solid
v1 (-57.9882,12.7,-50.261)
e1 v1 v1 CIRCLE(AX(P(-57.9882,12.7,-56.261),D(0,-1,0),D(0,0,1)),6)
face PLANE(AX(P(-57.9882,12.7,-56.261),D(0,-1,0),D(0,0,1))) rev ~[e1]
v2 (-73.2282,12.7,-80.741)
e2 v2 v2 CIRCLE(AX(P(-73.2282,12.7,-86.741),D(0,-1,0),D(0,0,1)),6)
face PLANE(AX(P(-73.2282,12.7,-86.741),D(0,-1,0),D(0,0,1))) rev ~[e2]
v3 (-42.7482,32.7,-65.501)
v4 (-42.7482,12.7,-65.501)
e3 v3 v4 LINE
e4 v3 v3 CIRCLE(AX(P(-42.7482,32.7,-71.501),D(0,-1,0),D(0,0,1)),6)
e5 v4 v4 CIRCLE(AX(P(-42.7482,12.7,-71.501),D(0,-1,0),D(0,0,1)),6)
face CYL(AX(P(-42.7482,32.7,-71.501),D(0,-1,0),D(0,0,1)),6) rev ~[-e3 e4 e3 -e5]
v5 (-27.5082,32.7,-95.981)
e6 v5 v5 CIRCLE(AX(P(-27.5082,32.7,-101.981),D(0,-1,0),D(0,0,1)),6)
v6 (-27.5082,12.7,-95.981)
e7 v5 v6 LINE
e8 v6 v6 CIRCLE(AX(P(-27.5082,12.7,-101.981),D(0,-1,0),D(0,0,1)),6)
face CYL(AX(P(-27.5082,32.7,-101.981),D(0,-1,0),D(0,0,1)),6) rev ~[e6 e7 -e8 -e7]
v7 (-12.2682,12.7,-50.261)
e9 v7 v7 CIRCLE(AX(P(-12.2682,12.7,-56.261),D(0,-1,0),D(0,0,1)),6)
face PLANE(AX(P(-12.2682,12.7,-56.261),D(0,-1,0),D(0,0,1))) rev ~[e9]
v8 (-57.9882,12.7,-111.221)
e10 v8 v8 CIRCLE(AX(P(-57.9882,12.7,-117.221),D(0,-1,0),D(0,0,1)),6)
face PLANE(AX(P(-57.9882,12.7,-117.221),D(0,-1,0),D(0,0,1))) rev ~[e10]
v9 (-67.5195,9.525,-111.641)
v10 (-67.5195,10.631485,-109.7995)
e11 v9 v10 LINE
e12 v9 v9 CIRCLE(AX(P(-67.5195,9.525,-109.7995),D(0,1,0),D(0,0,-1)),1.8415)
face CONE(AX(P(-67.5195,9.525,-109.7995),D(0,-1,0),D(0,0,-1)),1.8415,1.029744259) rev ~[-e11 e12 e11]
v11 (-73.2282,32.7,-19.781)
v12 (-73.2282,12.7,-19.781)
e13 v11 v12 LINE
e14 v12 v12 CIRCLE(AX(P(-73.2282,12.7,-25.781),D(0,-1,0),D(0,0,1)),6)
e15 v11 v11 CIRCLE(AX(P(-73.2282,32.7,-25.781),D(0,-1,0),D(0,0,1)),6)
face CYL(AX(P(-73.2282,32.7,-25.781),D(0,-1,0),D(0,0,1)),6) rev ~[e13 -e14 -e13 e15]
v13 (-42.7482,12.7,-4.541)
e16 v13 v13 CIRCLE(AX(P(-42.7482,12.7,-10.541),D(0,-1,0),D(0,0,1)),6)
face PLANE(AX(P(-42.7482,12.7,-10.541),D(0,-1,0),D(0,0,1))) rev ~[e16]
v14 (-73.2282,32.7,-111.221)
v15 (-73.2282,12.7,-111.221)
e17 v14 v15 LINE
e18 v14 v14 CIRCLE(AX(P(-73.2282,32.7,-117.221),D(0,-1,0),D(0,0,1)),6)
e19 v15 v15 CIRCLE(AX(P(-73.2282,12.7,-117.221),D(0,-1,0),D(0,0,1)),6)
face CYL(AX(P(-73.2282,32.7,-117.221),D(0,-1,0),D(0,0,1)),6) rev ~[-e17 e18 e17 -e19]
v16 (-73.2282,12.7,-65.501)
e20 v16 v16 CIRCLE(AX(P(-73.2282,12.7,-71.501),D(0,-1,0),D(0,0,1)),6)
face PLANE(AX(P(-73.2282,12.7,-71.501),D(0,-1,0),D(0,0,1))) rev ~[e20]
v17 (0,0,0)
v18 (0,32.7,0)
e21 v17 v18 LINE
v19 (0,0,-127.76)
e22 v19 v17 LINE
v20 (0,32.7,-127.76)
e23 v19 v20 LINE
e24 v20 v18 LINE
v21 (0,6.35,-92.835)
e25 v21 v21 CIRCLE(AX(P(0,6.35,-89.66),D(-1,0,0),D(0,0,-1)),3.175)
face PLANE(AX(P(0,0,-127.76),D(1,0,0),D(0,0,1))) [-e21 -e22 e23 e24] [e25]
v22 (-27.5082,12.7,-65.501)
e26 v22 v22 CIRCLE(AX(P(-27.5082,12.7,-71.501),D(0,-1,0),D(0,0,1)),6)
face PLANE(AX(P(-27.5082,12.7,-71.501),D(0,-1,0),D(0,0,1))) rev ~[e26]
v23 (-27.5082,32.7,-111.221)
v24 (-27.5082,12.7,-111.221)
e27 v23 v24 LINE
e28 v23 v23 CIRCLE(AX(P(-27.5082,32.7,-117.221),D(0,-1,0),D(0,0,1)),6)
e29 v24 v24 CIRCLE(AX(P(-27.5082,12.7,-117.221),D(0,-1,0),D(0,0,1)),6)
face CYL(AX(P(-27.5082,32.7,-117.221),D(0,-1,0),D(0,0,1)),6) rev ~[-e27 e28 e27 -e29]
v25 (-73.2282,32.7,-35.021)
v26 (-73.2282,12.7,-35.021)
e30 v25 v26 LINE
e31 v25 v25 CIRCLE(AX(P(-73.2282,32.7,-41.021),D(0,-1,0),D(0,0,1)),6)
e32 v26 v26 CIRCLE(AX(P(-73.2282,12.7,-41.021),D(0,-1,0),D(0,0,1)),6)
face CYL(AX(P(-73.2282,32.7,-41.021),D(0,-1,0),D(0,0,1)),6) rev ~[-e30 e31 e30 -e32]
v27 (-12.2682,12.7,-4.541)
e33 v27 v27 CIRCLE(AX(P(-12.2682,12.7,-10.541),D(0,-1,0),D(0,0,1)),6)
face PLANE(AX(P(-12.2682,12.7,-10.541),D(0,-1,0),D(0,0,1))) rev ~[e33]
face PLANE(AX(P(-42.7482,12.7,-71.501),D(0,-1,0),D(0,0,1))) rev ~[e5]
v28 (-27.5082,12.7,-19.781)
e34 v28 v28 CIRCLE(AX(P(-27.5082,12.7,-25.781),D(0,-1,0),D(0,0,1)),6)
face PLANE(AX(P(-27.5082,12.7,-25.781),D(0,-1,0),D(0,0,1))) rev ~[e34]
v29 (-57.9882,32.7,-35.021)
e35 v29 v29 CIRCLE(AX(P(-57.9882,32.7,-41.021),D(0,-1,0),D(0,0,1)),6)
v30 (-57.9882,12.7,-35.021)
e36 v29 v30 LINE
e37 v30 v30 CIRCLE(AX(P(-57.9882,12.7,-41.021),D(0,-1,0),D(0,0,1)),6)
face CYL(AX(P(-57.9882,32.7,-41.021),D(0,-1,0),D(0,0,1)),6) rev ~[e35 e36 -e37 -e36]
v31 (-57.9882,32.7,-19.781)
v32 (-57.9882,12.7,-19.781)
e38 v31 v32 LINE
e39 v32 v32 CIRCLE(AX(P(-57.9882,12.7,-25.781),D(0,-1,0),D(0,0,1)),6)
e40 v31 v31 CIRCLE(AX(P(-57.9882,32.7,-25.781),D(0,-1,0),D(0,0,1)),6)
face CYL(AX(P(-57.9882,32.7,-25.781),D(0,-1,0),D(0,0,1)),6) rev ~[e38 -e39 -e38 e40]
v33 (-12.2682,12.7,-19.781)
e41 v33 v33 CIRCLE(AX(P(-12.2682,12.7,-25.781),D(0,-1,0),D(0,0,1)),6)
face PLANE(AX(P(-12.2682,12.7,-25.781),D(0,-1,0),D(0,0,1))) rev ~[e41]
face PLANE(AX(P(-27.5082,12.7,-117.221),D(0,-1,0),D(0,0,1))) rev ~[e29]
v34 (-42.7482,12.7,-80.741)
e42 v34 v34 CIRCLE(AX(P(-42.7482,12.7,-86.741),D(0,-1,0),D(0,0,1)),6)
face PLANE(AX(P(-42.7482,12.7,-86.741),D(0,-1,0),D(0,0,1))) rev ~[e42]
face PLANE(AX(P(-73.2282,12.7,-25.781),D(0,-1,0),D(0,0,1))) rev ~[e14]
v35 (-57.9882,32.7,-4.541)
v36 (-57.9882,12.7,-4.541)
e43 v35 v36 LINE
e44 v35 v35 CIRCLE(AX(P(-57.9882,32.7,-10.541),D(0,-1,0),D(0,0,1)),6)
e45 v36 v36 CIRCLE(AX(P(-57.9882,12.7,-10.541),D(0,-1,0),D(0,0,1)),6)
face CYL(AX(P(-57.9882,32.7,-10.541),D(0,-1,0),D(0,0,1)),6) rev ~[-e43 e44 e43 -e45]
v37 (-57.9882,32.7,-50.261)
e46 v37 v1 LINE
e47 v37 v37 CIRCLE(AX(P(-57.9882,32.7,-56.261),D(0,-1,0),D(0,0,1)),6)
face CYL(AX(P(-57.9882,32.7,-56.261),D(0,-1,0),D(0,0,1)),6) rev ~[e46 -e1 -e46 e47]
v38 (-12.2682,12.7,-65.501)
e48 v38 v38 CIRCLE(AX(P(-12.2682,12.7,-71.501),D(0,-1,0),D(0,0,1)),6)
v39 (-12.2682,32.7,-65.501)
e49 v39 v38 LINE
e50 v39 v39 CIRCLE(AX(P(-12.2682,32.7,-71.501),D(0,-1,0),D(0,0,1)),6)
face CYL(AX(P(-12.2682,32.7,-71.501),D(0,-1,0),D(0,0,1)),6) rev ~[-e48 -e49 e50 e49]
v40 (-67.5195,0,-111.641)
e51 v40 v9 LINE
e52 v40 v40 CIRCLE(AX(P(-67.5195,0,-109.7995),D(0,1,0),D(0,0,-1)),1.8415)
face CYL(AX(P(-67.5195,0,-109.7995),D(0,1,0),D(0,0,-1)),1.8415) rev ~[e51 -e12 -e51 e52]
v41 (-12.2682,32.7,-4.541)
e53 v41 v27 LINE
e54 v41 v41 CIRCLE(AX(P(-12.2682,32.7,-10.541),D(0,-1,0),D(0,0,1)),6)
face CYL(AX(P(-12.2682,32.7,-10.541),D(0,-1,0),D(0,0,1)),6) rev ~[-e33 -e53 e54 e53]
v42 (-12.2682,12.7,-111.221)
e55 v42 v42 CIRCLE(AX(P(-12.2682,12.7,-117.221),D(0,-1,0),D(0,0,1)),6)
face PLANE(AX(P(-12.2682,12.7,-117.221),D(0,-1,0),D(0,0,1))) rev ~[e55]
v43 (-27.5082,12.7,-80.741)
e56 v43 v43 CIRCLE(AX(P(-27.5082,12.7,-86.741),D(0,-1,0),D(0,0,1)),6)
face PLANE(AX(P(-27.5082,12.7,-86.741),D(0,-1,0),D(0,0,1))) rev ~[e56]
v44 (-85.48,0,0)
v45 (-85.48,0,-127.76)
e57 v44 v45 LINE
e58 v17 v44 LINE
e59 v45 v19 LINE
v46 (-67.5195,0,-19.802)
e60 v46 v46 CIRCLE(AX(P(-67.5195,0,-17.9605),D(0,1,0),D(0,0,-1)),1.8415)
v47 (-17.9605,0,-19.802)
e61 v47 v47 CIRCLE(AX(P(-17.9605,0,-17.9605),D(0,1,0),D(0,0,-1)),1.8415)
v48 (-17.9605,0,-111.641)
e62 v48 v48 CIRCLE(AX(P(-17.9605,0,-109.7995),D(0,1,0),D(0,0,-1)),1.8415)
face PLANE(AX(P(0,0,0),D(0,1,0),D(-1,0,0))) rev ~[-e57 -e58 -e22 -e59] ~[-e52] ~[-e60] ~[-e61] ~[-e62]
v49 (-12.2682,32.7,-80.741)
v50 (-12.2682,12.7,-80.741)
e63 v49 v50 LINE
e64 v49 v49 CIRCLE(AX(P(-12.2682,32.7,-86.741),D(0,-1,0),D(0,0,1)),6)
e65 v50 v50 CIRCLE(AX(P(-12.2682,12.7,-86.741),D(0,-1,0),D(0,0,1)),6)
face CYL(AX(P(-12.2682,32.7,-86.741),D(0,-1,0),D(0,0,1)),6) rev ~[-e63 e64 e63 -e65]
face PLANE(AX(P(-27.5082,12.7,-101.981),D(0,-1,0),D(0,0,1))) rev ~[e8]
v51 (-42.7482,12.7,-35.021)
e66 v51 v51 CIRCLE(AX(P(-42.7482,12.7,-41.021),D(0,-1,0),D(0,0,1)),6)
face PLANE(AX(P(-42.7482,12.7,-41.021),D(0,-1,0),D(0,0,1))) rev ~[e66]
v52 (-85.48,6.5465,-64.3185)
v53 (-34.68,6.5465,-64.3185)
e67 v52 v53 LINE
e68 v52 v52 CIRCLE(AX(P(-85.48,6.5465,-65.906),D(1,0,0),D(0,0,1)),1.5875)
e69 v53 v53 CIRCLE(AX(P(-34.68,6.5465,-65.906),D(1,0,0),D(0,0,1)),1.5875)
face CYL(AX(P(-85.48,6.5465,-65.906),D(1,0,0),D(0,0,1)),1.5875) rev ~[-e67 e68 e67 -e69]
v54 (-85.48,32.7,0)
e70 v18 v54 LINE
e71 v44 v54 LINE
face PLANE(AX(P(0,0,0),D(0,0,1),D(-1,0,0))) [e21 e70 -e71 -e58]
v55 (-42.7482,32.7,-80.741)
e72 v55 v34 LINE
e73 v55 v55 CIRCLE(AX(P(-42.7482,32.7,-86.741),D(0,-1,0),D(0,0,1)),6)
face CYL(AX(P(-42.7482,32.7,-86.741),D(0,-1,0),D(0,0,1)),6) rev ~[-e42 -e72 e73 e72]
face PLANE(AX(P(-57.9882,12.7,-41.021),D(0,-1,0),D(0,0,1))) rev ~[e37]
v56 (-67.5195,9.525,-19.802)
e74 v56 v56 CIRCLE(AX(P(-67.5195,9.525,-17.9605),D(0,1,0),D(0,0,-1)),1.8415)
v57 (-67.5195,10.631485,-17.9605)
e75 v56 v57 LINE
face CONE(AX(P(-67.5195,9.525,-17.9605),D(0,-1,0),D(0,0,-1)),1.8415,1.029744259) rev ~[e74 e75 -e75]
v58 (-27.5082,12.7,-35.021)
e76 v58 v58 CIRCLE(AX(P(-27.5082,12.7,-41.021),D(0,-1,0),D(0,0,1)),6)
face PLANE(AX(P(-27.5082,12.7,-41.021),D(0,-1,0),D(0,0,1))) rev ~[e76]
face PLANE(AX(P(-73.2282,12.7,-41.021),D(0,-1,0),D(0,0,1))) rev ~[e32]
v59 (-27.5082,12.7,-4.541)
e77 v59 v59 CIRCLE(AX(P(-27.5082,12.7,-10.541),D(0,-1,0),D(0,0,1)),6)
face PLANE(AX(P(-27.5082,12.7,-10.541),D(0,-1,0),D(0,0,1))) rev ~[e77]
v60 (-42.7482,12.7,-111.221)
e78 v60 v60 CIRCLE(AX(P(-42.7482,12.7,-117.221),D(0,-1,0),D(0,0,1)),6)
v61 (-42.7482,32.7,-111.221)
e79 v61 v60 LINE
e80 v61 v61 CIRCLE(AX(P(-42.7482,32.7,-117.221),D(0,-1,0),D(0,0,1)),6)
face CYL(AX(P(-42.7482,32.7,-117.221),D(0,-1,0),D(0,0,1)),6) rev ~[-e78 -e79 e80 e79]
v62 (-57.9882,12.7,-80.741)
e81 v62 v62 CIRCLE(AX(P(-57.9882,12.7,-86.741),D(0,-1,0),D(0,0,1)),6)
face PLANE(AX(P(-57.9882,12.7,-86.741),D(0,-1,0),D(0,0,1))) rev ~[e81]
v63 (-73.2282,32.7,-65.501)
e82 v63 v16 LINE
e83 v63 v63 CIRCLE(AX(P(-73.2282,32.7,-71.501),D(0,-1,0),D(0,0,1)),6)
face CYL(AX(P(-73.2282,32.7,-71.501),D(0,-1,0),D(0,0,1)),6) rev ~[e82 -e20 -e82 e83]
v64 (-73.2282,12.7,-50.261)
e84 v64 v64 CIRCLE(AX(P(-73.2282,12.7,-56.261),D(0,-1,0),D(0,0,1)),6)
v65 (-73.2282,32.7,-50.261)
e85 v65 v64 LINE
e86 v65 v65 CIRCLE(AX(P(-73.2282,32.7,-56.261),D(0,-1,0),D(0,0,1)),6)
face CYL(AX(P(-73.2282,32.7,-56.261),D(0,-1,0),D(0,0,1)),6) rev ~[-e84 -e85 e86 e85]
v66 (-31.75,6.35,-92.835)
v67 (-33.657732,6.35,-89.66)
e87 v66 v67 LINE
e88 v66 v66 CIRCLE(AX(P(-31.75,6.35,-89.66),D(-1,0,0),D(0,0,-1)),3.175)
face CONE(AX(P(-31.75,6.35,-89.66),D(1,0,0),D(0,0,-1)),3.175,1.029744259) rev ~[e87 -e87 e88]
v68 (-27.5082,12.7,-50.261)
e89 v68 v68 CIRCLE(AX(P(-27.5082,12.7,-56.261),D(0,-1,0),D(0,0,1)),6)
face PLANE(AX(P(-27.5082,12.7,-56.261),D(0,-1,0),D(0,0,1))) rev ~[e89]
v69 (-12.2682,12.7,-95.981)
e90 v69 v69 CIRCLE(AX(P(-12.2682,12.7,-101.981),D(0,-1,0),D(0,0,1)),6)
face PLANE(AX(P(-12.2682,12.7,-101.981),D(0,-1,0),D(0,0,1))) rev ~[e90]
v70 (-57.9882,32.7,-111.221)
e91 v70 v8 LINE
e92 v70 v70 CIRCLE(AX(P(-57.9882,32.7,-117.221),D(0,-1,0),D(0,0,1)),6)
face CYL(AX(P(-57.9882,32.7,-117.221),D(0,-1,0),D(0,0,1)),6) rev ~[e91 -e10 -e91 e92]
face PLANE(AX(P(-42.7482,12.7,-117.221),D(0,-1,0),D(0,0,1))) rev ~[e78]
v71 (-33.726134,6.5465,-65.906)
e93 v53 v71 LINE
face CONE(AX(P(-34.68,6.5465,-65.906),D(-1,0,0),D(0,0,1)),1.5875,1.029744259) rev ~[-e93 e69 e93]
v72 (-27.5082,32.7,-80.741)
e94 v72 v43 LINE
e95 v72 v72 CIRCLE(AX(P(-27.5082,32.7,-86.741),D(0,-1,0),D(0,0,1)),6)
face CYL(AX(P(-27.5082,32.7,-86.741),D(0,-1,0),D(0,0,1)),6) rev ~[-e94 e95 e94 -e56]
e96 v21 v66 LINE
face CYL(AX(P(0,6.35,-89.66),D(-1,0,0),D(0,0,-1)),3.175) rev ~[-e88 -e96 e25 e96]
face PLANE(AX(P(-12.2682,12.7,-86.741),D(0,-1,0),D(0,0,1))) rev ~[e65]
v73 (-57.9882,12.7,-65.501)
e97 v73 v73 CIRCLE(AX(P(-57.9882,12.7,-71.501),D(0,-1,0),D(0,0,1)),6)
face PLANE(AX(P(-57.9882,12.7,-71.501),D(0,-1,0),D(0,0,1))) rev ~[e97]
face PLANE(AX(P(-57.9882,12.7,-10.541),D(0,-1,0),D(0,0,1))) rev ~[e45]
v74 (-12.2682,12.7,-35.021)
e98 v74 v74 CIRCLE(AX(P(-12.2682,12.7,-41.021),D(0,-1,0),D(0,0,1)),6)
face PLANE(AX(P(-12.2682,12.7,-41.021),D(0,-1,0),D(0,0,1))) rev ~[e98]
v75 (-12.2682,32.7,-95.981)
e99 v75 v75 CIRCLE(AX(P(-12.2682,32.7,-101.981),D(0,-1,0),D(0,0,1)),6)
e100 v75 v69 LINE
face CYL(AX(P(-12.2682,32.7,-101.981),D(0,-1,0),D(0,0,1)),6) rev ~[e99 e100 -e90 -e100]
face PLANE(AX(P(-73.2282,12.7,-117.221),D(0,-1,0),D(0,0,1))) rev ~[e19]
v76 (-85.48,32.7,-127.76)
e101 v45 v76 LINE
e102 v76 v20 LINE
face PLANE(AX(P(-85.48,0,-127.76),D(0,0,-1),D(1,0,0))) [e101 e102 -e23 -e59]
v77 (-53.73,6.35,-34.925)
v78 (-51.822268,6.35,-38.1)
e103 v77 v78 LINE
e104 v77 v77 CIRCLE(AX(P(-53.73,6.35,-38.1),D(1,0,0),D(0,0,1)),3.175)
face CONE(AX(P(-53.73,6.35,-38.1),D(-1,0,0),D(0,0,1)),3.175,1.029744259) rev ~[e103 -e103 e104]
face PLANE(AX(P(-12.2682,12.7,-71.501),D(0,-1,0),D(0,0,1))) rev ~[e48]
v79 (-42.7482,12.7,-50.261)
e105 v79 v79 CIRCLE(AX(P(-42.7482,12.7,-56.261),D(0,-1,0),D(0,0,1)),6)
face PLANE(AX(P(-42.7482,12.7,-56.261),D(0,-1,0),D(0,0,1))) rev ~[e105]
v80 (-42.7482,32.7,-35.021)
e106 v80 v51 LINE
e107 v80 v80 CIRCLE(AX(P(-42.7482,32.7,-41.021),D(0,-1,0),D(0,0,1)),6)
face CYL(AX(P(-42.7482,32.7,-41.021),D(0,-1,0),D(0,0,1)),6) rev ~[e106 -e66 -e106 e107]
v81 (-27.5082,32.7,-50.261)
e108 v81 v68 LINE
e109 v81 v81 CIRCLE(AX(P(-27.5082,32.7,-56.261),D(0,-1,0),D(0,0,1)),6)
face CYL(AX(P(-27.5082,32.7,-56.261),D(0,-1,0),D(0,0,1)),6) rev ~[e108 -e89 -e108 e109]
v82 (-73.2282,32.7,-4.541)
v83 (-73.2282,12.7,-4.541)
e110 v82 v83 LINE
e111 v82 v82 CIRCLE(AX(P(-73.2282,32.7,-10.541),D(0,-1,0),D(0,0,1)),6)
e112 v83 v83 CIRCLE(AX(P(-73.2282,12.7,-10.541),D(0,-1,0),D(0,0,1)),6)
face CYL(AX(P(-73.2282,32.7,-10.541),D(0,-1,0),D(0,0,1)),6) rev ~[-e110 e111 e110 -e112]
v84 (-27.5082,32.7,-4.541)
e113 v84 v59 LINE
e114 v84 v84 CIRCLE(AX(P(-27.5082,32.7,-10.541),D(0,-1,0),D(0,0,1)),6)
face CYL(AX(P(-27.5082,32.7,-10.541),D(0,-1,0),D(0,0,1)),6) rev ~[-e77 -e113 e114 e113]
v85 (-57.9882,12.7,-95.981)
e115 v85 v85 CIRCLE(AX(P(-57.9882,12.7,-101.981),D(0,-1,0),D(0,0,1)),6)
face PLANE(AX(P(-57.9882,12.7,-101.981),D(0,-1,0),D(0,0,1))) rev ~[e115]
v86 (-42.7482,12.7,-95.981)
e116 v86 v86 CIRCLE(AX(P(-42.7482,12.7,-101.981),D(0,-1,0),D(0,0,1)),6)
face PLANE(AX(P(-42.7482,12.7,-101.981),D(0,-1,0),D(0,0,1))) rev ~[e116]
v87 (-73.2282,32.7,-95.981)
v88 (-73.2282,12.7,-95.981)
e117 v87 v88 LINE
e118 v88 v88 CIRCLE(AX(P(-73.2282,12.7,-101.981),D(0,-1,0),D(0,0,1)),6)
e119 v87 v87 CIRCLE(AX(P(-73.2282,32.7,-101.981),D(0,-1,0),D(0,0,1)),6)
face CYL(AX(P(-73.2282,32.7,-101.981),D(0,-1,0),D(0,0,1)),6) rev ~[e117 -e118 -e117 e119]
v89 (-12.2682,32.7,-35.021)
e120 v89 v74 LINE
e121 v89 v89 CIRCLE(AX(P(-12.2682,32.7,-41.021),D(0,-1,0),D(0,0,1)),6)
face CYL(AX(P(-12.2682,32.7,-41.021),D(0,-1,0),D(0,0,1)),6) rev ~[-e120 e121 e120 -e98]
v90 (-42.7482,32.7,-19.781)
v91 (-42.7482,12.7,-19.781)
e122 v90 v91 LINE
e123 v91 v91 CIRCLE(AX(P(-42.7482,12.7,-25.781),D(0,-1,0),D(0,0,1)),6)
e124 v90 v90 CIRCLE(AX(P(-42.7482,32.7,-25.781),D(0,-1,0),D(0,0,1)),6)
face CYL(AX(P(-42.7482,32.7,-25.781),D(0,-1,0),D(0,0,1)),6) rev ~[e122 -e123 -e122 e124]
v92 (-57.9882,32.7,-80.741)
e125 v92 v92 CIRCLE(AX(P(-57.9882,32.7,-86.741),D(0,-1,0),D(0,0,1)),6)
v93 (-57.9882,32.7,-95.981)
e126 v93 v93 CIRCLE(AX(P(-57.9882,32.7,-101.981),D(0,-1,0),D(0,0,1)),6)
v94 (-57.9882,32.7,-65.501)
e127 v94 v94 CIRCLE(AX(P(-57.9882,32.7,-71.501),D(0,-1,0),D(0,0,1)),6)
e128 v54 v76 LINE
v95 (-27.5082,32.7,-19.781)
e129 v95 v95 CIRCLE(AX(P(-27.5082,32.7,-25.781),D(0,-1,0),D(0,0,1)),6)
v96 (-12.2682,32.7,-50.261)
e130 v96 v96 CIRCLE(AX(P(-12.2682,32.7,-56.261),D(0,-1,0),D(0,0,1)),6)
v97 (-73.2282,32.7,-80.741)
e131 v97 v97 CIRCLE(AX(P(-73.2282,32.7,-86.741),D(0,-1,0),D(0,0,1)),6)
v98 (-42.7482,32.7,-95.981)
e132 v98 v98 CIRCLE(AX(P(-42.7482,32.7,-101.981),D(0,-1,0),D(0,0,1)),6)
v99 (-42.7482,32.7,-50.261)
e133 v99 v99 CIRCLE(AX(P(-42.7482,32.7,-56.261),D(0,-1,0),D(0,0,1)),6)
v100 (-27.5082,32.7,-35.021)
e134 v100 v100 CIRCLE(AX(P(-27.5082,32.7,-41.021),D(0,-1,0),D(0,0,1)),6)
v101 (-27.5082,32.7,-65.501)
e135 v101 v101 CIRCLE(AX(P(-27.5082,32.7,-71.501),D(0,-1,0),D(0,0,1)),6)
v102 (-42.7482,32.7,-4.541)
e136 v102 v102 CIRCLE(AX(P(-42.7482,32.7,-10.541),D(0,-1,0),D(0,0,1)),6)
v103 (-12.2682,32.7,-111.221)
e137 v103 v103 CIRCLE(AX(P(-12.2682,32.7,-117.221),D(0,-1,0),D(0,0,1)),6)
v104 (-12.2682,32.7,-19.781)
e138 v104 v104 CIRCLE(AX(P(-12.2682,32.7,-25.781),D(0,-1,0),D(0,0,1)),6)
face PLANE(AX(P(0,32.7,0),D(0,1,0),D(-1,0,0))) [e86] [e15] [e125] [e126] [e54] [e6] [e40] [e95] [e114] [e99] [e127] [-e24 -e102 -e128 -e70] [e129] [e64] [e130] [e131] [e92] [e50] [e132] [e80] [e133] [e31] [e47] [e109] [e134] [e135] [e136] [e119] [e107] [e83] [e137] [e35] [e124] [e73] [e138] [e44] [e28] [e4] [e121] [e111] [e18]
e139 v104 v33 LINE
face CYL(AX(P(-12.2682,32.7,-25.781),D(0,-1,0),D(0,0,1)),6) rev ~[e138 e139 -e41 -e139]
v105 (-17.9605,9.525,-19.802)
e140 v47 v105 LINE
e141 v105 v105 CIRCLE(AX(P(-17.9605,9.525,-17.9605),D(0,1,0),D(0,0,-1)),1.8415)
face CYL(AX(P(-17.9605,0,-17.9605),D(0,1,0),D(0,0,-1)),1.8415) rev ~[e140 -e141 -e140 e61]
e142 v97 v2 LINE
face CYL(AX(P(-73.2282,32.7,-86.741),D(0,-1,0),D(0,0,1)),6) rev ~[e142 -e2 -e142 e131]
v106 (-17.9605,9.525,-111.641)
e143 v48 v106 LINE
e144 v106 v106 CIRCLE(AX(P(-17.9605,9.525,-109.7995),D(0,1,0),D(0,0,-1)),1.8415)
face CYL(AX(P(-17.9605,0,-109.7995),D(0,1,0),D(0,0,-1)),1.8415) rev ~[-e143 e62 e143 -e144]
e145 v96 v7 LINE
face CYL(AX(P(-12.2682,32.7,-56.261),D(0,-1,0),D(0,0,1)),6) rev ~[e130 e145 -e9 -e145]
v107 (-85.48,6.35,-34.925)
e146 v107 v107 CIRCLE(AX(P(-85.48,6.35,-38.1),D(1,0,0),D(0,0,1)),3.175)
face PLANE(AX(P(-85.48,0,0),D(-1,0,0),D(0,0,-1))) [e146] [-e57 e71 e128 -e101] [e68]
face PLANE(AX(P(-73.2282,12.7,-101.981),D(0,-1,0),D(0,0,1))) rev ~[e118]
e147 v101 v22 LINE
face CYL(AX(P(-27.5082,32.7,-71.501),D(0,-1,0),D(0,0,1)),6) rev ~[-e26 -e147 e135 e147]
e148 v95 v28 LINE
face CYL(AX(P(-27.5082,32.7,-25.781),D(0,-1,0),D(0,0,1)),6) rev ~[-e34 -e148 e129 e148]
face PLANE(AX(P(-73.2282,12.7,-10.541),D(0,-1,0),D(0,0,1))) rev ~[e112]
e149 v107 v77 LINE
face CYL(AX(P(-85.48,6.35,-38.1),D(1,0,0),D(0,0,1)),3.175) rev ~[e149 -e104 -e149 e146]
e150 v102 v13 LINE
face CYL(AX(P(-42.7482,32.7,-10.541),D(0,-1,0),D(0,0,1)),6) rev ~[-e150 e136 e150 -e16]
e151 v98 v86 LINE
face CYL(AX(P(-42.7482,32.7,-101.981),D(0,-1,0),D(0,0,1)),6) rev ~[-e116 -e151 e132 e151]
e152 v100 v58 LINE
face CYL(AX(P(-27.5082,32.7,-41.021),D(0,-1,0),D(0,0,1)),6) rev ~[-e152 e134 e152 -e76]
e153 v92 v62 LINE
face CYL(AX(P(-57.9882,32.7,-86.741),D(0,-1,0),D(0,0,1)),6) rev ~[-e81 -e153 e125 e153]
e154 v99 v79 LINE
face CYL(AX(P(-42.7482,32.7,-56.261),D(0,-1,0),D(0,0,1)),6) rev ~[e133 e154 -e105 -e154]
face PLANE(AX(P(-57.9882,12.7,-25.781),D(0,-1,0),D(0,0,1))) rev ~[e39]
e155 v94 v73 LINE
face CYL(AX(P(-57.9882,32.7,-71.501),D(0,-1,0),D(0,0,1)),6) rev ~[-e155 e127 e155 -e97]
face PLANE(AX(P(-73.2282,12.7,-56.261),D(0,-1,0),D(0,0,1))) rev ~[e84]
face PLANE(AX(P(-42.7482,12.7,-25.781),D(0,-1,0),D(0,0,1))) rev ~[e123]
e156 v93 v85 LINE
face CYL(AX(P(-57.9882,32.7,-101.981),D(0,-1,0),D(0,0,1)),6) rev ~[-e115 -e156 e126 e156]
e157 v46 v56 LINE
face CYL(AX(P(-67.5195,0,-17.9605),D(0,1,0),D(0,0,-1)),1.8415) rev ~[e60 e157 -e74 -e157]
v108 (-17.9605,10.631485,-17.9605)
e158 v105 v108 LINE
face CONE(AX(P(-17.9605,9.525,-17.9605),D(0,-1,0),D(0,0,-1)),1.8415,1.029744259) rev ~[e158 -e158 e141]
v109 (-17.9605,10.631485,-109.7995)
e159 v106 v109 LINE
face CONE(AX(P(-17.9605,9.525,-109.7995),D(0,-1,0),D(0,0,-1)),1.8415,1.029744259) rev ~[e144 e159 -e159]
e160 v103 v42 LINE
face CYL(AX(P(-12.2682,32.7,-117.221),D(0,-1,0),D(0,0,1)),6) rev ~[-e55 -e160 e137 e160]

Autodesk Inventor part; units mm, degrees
ref_plane "YZ Plane" through (0, 0, 0) normal (1, 0, 0) x (0, 1, 0)
ref_plane "XZ Plane" through (0, 0, 0) normal (0, 1, 0) x (-1, 0, 0)
ref_plane "XY Plane" through (0, 0, 0) normal (0, 0, 1) x (1, 0, 0)
sketch "Sketch1" plane through (0, 0, 0) normal (0, 1, 0) x (-1, 0, 0)
  line L0 (0, 0) -> (85.48, 0)
  line L1 (85.48, 0) -> (85.48, -127.76)
  line L2 (85.48, -127.76) -> (0, -127.76)
  line L3 (0, -127.76) -> (0, 0)
  line L4 (85.48, 0) -> (67.5195, -17.9605)
  line L5 (85.48, 0) -> (110.88, 0) construction
  line L6 (0, 0) -> (17.9605, -17.9605)
  line L7 (85.48, -127.76) -> (67.5195, -109.7995)
  line L8 (85.48, -127.76) -> (110.88, -127.76) construction
  line L9 (0, -127.76) -> (17.9605, -109.7995)
  line L10 (0, -127.76) -> (25.4, -127.76) construction
  dimension "d0" = 85.48
  dimension "d1" = 127.76
  dimension "d2" = 25.4
  dimension "d3" = 135
  dimension "d4" = 25.4
  dimension "d5" = 25.4
  dimension "d6" = 135
  dimension "d7" = 25.4
  dimension "d8" = 45
extrude "Extrusion1" add sketch "Sketch1" along normal blind 32.7
sketch "Sketch2" plane through (0, 0, 0) normal (0, -1, 0) x (1, 0, 0)
  line L0 (-85.48, 0) -> (0, 0) projected
  line L1 (0, 0) -> (-17.9605, -17.9605)
  line L2 (0, 0) -> (25.4, 0) construction
  line L3 (0, 0) -> (0, -127.76) projected
  line L4 (0, -127.76) -> (-17.9605, -109.7995)
  line L5 (0, -127.76) -> (25.4, -127.76) construction
  line L6 (-85.48, -127.76) -> (-85.48, 0) projected
  line L7 (-85.48, 0) -> (-67.5195, -17.9605)
  line L8 (-85.48, 0) -> (-60.08, 0) construction
  line L9 (0, -127.76) -> (-85.48, -127.76) projected
  line L10 (-85.48, -127.76) -> (-67.5195, -109.7995)
  line L11 (-85.48, -127.76) -> (-60.08, -127.76) construction
  dimension "d11" = 25.4
  dimension "d12" = 135
  dimension "d13" = 25.4
  dimension "d14" = 135
  dimension "d15" = 25.4
  dimension "d16" = 45
  dimension "d17" = 25.4
  dimension "d18" = 45
hole "Hole1" at (-17.9605, 0, -17.9605) at (-67.5195, 0, -17.9605) at (-67.5195, 0, -109.7995) at (-17.9605, 0, -109.7995) direction (0, 1, 0) diameter 3.683 depth 9.525 tip angle 118 thread size "10-24 UNC" class "2B" standard "ANSI Unified Screw Threads"
sketch "Sketch4" plane through (0, 32.7, 0) normal (0, 1, 0) x (1, 0, 0)
  line L0 (0, -1.0521) -> (19.05, -1.0521) construction
  line L1 (0, 0) -> (0, 127.76) projected
  line L2 (0, 18.3507) -> (0, 0)
  line L3 (0, 0) -> (-18.7946, 0)
  line L4 (0, 0) -> (-12.2682, 0)
  line L5 (-12.2682, 0) -> (-12.2682, 10.541)
  line L6 (-12.2682, 10.541) -> (0, 10.541)
  line L7 (0, 10.541) -> (0, 0)
  dimension "d41" = 12.2682
  dimension "d42" = 10.541
hole "Hole2" at (-12.2682, 32.7, -10.541) direction (0, -1, 0) diameter 12 depth 20
pattern_linear "Rectangular Pattern1" count 5 spacing 15.24 along (-1, 0, 0) count 8 spacing 15.24 along (0, 0, -1) of "Hole2"
sketch "Sketch5" plane through (-85.48, 0, -127.76) normal (-1, 0, 0) x (0, 0, 1)
  line L0 (127.76, 0) -> (127.76, 32.7) projected
  line L1 (127.76, 0) -> (89.66, 0)
  line L2 (89.66, 0) -> (89.66, 6.35)
  line L3 (89.66, 6.35) -> (127.76, 6.35)
  line L4 (127.76, 6.35) -> (127.76, 0)
  line L5 (62.646, 6.35) -> (127.76, 6.35)
  line L6 (127.76, 6.35) -> (127.76, 0)
  line L7 (127.76, 0) -> (62.646, 0)
  line L8 (62.646, 0) -> (62.646, 6.35)
  dimension "d43" = 38.1
  dimension "d44" = 6.35
hole "Hole3" at (-85.48, 6.35, -38.1) direction (1, 0, 0) diameter 6.35 depth 31.75 tip angle 118
sketch "Sketch6" plane through (-85.48, 0, -127.76) normal (-1, 0, 0) x (0, 0, 1)
  line L0 (61.854, 6.5465) -> (127.76, 6.5465)
  line L1 (127.76, 6.5465) -> (127.76, 0.1965)
  line L2 (127.76, 0.1965) -> (61.854, 0.1965)
  line L3 (61.854, 0.1965) -> (61.854, 6.5465)
  point P0 (127.76, 0)
  dimension "d52" = 6.35
hole "Hole4" at (-85.48, 6.5465, -65.906) direction (1, 0, 0) diameter 3.175 depth 50.8 tip angle 118
sketch "Sketch7" plane through (0, 0, 0) normal (1, 0, 0) x (0, 0, -1)
  line L0 (127.76, 0) -> (0, 0) projected
  line L1 (127.76, 0) -> (89.66, 0)
  line L2 (89.66, 0) -> (89.66, 6.35)
  line L3 (89.66, 6.35) -> (127.76, 6.35)
  line L4 (127.76, 6.35) -> (127.76, 0)
  dimension "d60" = 38.1
  dimension "d61" = 6.35
hole "Hole5" at (0, 6.35, -89.66) direction (-1, 0, 0) diameter 6.35 depth 31.75 tip angle 118
properties part number "Thermal_topplate_1mL"
